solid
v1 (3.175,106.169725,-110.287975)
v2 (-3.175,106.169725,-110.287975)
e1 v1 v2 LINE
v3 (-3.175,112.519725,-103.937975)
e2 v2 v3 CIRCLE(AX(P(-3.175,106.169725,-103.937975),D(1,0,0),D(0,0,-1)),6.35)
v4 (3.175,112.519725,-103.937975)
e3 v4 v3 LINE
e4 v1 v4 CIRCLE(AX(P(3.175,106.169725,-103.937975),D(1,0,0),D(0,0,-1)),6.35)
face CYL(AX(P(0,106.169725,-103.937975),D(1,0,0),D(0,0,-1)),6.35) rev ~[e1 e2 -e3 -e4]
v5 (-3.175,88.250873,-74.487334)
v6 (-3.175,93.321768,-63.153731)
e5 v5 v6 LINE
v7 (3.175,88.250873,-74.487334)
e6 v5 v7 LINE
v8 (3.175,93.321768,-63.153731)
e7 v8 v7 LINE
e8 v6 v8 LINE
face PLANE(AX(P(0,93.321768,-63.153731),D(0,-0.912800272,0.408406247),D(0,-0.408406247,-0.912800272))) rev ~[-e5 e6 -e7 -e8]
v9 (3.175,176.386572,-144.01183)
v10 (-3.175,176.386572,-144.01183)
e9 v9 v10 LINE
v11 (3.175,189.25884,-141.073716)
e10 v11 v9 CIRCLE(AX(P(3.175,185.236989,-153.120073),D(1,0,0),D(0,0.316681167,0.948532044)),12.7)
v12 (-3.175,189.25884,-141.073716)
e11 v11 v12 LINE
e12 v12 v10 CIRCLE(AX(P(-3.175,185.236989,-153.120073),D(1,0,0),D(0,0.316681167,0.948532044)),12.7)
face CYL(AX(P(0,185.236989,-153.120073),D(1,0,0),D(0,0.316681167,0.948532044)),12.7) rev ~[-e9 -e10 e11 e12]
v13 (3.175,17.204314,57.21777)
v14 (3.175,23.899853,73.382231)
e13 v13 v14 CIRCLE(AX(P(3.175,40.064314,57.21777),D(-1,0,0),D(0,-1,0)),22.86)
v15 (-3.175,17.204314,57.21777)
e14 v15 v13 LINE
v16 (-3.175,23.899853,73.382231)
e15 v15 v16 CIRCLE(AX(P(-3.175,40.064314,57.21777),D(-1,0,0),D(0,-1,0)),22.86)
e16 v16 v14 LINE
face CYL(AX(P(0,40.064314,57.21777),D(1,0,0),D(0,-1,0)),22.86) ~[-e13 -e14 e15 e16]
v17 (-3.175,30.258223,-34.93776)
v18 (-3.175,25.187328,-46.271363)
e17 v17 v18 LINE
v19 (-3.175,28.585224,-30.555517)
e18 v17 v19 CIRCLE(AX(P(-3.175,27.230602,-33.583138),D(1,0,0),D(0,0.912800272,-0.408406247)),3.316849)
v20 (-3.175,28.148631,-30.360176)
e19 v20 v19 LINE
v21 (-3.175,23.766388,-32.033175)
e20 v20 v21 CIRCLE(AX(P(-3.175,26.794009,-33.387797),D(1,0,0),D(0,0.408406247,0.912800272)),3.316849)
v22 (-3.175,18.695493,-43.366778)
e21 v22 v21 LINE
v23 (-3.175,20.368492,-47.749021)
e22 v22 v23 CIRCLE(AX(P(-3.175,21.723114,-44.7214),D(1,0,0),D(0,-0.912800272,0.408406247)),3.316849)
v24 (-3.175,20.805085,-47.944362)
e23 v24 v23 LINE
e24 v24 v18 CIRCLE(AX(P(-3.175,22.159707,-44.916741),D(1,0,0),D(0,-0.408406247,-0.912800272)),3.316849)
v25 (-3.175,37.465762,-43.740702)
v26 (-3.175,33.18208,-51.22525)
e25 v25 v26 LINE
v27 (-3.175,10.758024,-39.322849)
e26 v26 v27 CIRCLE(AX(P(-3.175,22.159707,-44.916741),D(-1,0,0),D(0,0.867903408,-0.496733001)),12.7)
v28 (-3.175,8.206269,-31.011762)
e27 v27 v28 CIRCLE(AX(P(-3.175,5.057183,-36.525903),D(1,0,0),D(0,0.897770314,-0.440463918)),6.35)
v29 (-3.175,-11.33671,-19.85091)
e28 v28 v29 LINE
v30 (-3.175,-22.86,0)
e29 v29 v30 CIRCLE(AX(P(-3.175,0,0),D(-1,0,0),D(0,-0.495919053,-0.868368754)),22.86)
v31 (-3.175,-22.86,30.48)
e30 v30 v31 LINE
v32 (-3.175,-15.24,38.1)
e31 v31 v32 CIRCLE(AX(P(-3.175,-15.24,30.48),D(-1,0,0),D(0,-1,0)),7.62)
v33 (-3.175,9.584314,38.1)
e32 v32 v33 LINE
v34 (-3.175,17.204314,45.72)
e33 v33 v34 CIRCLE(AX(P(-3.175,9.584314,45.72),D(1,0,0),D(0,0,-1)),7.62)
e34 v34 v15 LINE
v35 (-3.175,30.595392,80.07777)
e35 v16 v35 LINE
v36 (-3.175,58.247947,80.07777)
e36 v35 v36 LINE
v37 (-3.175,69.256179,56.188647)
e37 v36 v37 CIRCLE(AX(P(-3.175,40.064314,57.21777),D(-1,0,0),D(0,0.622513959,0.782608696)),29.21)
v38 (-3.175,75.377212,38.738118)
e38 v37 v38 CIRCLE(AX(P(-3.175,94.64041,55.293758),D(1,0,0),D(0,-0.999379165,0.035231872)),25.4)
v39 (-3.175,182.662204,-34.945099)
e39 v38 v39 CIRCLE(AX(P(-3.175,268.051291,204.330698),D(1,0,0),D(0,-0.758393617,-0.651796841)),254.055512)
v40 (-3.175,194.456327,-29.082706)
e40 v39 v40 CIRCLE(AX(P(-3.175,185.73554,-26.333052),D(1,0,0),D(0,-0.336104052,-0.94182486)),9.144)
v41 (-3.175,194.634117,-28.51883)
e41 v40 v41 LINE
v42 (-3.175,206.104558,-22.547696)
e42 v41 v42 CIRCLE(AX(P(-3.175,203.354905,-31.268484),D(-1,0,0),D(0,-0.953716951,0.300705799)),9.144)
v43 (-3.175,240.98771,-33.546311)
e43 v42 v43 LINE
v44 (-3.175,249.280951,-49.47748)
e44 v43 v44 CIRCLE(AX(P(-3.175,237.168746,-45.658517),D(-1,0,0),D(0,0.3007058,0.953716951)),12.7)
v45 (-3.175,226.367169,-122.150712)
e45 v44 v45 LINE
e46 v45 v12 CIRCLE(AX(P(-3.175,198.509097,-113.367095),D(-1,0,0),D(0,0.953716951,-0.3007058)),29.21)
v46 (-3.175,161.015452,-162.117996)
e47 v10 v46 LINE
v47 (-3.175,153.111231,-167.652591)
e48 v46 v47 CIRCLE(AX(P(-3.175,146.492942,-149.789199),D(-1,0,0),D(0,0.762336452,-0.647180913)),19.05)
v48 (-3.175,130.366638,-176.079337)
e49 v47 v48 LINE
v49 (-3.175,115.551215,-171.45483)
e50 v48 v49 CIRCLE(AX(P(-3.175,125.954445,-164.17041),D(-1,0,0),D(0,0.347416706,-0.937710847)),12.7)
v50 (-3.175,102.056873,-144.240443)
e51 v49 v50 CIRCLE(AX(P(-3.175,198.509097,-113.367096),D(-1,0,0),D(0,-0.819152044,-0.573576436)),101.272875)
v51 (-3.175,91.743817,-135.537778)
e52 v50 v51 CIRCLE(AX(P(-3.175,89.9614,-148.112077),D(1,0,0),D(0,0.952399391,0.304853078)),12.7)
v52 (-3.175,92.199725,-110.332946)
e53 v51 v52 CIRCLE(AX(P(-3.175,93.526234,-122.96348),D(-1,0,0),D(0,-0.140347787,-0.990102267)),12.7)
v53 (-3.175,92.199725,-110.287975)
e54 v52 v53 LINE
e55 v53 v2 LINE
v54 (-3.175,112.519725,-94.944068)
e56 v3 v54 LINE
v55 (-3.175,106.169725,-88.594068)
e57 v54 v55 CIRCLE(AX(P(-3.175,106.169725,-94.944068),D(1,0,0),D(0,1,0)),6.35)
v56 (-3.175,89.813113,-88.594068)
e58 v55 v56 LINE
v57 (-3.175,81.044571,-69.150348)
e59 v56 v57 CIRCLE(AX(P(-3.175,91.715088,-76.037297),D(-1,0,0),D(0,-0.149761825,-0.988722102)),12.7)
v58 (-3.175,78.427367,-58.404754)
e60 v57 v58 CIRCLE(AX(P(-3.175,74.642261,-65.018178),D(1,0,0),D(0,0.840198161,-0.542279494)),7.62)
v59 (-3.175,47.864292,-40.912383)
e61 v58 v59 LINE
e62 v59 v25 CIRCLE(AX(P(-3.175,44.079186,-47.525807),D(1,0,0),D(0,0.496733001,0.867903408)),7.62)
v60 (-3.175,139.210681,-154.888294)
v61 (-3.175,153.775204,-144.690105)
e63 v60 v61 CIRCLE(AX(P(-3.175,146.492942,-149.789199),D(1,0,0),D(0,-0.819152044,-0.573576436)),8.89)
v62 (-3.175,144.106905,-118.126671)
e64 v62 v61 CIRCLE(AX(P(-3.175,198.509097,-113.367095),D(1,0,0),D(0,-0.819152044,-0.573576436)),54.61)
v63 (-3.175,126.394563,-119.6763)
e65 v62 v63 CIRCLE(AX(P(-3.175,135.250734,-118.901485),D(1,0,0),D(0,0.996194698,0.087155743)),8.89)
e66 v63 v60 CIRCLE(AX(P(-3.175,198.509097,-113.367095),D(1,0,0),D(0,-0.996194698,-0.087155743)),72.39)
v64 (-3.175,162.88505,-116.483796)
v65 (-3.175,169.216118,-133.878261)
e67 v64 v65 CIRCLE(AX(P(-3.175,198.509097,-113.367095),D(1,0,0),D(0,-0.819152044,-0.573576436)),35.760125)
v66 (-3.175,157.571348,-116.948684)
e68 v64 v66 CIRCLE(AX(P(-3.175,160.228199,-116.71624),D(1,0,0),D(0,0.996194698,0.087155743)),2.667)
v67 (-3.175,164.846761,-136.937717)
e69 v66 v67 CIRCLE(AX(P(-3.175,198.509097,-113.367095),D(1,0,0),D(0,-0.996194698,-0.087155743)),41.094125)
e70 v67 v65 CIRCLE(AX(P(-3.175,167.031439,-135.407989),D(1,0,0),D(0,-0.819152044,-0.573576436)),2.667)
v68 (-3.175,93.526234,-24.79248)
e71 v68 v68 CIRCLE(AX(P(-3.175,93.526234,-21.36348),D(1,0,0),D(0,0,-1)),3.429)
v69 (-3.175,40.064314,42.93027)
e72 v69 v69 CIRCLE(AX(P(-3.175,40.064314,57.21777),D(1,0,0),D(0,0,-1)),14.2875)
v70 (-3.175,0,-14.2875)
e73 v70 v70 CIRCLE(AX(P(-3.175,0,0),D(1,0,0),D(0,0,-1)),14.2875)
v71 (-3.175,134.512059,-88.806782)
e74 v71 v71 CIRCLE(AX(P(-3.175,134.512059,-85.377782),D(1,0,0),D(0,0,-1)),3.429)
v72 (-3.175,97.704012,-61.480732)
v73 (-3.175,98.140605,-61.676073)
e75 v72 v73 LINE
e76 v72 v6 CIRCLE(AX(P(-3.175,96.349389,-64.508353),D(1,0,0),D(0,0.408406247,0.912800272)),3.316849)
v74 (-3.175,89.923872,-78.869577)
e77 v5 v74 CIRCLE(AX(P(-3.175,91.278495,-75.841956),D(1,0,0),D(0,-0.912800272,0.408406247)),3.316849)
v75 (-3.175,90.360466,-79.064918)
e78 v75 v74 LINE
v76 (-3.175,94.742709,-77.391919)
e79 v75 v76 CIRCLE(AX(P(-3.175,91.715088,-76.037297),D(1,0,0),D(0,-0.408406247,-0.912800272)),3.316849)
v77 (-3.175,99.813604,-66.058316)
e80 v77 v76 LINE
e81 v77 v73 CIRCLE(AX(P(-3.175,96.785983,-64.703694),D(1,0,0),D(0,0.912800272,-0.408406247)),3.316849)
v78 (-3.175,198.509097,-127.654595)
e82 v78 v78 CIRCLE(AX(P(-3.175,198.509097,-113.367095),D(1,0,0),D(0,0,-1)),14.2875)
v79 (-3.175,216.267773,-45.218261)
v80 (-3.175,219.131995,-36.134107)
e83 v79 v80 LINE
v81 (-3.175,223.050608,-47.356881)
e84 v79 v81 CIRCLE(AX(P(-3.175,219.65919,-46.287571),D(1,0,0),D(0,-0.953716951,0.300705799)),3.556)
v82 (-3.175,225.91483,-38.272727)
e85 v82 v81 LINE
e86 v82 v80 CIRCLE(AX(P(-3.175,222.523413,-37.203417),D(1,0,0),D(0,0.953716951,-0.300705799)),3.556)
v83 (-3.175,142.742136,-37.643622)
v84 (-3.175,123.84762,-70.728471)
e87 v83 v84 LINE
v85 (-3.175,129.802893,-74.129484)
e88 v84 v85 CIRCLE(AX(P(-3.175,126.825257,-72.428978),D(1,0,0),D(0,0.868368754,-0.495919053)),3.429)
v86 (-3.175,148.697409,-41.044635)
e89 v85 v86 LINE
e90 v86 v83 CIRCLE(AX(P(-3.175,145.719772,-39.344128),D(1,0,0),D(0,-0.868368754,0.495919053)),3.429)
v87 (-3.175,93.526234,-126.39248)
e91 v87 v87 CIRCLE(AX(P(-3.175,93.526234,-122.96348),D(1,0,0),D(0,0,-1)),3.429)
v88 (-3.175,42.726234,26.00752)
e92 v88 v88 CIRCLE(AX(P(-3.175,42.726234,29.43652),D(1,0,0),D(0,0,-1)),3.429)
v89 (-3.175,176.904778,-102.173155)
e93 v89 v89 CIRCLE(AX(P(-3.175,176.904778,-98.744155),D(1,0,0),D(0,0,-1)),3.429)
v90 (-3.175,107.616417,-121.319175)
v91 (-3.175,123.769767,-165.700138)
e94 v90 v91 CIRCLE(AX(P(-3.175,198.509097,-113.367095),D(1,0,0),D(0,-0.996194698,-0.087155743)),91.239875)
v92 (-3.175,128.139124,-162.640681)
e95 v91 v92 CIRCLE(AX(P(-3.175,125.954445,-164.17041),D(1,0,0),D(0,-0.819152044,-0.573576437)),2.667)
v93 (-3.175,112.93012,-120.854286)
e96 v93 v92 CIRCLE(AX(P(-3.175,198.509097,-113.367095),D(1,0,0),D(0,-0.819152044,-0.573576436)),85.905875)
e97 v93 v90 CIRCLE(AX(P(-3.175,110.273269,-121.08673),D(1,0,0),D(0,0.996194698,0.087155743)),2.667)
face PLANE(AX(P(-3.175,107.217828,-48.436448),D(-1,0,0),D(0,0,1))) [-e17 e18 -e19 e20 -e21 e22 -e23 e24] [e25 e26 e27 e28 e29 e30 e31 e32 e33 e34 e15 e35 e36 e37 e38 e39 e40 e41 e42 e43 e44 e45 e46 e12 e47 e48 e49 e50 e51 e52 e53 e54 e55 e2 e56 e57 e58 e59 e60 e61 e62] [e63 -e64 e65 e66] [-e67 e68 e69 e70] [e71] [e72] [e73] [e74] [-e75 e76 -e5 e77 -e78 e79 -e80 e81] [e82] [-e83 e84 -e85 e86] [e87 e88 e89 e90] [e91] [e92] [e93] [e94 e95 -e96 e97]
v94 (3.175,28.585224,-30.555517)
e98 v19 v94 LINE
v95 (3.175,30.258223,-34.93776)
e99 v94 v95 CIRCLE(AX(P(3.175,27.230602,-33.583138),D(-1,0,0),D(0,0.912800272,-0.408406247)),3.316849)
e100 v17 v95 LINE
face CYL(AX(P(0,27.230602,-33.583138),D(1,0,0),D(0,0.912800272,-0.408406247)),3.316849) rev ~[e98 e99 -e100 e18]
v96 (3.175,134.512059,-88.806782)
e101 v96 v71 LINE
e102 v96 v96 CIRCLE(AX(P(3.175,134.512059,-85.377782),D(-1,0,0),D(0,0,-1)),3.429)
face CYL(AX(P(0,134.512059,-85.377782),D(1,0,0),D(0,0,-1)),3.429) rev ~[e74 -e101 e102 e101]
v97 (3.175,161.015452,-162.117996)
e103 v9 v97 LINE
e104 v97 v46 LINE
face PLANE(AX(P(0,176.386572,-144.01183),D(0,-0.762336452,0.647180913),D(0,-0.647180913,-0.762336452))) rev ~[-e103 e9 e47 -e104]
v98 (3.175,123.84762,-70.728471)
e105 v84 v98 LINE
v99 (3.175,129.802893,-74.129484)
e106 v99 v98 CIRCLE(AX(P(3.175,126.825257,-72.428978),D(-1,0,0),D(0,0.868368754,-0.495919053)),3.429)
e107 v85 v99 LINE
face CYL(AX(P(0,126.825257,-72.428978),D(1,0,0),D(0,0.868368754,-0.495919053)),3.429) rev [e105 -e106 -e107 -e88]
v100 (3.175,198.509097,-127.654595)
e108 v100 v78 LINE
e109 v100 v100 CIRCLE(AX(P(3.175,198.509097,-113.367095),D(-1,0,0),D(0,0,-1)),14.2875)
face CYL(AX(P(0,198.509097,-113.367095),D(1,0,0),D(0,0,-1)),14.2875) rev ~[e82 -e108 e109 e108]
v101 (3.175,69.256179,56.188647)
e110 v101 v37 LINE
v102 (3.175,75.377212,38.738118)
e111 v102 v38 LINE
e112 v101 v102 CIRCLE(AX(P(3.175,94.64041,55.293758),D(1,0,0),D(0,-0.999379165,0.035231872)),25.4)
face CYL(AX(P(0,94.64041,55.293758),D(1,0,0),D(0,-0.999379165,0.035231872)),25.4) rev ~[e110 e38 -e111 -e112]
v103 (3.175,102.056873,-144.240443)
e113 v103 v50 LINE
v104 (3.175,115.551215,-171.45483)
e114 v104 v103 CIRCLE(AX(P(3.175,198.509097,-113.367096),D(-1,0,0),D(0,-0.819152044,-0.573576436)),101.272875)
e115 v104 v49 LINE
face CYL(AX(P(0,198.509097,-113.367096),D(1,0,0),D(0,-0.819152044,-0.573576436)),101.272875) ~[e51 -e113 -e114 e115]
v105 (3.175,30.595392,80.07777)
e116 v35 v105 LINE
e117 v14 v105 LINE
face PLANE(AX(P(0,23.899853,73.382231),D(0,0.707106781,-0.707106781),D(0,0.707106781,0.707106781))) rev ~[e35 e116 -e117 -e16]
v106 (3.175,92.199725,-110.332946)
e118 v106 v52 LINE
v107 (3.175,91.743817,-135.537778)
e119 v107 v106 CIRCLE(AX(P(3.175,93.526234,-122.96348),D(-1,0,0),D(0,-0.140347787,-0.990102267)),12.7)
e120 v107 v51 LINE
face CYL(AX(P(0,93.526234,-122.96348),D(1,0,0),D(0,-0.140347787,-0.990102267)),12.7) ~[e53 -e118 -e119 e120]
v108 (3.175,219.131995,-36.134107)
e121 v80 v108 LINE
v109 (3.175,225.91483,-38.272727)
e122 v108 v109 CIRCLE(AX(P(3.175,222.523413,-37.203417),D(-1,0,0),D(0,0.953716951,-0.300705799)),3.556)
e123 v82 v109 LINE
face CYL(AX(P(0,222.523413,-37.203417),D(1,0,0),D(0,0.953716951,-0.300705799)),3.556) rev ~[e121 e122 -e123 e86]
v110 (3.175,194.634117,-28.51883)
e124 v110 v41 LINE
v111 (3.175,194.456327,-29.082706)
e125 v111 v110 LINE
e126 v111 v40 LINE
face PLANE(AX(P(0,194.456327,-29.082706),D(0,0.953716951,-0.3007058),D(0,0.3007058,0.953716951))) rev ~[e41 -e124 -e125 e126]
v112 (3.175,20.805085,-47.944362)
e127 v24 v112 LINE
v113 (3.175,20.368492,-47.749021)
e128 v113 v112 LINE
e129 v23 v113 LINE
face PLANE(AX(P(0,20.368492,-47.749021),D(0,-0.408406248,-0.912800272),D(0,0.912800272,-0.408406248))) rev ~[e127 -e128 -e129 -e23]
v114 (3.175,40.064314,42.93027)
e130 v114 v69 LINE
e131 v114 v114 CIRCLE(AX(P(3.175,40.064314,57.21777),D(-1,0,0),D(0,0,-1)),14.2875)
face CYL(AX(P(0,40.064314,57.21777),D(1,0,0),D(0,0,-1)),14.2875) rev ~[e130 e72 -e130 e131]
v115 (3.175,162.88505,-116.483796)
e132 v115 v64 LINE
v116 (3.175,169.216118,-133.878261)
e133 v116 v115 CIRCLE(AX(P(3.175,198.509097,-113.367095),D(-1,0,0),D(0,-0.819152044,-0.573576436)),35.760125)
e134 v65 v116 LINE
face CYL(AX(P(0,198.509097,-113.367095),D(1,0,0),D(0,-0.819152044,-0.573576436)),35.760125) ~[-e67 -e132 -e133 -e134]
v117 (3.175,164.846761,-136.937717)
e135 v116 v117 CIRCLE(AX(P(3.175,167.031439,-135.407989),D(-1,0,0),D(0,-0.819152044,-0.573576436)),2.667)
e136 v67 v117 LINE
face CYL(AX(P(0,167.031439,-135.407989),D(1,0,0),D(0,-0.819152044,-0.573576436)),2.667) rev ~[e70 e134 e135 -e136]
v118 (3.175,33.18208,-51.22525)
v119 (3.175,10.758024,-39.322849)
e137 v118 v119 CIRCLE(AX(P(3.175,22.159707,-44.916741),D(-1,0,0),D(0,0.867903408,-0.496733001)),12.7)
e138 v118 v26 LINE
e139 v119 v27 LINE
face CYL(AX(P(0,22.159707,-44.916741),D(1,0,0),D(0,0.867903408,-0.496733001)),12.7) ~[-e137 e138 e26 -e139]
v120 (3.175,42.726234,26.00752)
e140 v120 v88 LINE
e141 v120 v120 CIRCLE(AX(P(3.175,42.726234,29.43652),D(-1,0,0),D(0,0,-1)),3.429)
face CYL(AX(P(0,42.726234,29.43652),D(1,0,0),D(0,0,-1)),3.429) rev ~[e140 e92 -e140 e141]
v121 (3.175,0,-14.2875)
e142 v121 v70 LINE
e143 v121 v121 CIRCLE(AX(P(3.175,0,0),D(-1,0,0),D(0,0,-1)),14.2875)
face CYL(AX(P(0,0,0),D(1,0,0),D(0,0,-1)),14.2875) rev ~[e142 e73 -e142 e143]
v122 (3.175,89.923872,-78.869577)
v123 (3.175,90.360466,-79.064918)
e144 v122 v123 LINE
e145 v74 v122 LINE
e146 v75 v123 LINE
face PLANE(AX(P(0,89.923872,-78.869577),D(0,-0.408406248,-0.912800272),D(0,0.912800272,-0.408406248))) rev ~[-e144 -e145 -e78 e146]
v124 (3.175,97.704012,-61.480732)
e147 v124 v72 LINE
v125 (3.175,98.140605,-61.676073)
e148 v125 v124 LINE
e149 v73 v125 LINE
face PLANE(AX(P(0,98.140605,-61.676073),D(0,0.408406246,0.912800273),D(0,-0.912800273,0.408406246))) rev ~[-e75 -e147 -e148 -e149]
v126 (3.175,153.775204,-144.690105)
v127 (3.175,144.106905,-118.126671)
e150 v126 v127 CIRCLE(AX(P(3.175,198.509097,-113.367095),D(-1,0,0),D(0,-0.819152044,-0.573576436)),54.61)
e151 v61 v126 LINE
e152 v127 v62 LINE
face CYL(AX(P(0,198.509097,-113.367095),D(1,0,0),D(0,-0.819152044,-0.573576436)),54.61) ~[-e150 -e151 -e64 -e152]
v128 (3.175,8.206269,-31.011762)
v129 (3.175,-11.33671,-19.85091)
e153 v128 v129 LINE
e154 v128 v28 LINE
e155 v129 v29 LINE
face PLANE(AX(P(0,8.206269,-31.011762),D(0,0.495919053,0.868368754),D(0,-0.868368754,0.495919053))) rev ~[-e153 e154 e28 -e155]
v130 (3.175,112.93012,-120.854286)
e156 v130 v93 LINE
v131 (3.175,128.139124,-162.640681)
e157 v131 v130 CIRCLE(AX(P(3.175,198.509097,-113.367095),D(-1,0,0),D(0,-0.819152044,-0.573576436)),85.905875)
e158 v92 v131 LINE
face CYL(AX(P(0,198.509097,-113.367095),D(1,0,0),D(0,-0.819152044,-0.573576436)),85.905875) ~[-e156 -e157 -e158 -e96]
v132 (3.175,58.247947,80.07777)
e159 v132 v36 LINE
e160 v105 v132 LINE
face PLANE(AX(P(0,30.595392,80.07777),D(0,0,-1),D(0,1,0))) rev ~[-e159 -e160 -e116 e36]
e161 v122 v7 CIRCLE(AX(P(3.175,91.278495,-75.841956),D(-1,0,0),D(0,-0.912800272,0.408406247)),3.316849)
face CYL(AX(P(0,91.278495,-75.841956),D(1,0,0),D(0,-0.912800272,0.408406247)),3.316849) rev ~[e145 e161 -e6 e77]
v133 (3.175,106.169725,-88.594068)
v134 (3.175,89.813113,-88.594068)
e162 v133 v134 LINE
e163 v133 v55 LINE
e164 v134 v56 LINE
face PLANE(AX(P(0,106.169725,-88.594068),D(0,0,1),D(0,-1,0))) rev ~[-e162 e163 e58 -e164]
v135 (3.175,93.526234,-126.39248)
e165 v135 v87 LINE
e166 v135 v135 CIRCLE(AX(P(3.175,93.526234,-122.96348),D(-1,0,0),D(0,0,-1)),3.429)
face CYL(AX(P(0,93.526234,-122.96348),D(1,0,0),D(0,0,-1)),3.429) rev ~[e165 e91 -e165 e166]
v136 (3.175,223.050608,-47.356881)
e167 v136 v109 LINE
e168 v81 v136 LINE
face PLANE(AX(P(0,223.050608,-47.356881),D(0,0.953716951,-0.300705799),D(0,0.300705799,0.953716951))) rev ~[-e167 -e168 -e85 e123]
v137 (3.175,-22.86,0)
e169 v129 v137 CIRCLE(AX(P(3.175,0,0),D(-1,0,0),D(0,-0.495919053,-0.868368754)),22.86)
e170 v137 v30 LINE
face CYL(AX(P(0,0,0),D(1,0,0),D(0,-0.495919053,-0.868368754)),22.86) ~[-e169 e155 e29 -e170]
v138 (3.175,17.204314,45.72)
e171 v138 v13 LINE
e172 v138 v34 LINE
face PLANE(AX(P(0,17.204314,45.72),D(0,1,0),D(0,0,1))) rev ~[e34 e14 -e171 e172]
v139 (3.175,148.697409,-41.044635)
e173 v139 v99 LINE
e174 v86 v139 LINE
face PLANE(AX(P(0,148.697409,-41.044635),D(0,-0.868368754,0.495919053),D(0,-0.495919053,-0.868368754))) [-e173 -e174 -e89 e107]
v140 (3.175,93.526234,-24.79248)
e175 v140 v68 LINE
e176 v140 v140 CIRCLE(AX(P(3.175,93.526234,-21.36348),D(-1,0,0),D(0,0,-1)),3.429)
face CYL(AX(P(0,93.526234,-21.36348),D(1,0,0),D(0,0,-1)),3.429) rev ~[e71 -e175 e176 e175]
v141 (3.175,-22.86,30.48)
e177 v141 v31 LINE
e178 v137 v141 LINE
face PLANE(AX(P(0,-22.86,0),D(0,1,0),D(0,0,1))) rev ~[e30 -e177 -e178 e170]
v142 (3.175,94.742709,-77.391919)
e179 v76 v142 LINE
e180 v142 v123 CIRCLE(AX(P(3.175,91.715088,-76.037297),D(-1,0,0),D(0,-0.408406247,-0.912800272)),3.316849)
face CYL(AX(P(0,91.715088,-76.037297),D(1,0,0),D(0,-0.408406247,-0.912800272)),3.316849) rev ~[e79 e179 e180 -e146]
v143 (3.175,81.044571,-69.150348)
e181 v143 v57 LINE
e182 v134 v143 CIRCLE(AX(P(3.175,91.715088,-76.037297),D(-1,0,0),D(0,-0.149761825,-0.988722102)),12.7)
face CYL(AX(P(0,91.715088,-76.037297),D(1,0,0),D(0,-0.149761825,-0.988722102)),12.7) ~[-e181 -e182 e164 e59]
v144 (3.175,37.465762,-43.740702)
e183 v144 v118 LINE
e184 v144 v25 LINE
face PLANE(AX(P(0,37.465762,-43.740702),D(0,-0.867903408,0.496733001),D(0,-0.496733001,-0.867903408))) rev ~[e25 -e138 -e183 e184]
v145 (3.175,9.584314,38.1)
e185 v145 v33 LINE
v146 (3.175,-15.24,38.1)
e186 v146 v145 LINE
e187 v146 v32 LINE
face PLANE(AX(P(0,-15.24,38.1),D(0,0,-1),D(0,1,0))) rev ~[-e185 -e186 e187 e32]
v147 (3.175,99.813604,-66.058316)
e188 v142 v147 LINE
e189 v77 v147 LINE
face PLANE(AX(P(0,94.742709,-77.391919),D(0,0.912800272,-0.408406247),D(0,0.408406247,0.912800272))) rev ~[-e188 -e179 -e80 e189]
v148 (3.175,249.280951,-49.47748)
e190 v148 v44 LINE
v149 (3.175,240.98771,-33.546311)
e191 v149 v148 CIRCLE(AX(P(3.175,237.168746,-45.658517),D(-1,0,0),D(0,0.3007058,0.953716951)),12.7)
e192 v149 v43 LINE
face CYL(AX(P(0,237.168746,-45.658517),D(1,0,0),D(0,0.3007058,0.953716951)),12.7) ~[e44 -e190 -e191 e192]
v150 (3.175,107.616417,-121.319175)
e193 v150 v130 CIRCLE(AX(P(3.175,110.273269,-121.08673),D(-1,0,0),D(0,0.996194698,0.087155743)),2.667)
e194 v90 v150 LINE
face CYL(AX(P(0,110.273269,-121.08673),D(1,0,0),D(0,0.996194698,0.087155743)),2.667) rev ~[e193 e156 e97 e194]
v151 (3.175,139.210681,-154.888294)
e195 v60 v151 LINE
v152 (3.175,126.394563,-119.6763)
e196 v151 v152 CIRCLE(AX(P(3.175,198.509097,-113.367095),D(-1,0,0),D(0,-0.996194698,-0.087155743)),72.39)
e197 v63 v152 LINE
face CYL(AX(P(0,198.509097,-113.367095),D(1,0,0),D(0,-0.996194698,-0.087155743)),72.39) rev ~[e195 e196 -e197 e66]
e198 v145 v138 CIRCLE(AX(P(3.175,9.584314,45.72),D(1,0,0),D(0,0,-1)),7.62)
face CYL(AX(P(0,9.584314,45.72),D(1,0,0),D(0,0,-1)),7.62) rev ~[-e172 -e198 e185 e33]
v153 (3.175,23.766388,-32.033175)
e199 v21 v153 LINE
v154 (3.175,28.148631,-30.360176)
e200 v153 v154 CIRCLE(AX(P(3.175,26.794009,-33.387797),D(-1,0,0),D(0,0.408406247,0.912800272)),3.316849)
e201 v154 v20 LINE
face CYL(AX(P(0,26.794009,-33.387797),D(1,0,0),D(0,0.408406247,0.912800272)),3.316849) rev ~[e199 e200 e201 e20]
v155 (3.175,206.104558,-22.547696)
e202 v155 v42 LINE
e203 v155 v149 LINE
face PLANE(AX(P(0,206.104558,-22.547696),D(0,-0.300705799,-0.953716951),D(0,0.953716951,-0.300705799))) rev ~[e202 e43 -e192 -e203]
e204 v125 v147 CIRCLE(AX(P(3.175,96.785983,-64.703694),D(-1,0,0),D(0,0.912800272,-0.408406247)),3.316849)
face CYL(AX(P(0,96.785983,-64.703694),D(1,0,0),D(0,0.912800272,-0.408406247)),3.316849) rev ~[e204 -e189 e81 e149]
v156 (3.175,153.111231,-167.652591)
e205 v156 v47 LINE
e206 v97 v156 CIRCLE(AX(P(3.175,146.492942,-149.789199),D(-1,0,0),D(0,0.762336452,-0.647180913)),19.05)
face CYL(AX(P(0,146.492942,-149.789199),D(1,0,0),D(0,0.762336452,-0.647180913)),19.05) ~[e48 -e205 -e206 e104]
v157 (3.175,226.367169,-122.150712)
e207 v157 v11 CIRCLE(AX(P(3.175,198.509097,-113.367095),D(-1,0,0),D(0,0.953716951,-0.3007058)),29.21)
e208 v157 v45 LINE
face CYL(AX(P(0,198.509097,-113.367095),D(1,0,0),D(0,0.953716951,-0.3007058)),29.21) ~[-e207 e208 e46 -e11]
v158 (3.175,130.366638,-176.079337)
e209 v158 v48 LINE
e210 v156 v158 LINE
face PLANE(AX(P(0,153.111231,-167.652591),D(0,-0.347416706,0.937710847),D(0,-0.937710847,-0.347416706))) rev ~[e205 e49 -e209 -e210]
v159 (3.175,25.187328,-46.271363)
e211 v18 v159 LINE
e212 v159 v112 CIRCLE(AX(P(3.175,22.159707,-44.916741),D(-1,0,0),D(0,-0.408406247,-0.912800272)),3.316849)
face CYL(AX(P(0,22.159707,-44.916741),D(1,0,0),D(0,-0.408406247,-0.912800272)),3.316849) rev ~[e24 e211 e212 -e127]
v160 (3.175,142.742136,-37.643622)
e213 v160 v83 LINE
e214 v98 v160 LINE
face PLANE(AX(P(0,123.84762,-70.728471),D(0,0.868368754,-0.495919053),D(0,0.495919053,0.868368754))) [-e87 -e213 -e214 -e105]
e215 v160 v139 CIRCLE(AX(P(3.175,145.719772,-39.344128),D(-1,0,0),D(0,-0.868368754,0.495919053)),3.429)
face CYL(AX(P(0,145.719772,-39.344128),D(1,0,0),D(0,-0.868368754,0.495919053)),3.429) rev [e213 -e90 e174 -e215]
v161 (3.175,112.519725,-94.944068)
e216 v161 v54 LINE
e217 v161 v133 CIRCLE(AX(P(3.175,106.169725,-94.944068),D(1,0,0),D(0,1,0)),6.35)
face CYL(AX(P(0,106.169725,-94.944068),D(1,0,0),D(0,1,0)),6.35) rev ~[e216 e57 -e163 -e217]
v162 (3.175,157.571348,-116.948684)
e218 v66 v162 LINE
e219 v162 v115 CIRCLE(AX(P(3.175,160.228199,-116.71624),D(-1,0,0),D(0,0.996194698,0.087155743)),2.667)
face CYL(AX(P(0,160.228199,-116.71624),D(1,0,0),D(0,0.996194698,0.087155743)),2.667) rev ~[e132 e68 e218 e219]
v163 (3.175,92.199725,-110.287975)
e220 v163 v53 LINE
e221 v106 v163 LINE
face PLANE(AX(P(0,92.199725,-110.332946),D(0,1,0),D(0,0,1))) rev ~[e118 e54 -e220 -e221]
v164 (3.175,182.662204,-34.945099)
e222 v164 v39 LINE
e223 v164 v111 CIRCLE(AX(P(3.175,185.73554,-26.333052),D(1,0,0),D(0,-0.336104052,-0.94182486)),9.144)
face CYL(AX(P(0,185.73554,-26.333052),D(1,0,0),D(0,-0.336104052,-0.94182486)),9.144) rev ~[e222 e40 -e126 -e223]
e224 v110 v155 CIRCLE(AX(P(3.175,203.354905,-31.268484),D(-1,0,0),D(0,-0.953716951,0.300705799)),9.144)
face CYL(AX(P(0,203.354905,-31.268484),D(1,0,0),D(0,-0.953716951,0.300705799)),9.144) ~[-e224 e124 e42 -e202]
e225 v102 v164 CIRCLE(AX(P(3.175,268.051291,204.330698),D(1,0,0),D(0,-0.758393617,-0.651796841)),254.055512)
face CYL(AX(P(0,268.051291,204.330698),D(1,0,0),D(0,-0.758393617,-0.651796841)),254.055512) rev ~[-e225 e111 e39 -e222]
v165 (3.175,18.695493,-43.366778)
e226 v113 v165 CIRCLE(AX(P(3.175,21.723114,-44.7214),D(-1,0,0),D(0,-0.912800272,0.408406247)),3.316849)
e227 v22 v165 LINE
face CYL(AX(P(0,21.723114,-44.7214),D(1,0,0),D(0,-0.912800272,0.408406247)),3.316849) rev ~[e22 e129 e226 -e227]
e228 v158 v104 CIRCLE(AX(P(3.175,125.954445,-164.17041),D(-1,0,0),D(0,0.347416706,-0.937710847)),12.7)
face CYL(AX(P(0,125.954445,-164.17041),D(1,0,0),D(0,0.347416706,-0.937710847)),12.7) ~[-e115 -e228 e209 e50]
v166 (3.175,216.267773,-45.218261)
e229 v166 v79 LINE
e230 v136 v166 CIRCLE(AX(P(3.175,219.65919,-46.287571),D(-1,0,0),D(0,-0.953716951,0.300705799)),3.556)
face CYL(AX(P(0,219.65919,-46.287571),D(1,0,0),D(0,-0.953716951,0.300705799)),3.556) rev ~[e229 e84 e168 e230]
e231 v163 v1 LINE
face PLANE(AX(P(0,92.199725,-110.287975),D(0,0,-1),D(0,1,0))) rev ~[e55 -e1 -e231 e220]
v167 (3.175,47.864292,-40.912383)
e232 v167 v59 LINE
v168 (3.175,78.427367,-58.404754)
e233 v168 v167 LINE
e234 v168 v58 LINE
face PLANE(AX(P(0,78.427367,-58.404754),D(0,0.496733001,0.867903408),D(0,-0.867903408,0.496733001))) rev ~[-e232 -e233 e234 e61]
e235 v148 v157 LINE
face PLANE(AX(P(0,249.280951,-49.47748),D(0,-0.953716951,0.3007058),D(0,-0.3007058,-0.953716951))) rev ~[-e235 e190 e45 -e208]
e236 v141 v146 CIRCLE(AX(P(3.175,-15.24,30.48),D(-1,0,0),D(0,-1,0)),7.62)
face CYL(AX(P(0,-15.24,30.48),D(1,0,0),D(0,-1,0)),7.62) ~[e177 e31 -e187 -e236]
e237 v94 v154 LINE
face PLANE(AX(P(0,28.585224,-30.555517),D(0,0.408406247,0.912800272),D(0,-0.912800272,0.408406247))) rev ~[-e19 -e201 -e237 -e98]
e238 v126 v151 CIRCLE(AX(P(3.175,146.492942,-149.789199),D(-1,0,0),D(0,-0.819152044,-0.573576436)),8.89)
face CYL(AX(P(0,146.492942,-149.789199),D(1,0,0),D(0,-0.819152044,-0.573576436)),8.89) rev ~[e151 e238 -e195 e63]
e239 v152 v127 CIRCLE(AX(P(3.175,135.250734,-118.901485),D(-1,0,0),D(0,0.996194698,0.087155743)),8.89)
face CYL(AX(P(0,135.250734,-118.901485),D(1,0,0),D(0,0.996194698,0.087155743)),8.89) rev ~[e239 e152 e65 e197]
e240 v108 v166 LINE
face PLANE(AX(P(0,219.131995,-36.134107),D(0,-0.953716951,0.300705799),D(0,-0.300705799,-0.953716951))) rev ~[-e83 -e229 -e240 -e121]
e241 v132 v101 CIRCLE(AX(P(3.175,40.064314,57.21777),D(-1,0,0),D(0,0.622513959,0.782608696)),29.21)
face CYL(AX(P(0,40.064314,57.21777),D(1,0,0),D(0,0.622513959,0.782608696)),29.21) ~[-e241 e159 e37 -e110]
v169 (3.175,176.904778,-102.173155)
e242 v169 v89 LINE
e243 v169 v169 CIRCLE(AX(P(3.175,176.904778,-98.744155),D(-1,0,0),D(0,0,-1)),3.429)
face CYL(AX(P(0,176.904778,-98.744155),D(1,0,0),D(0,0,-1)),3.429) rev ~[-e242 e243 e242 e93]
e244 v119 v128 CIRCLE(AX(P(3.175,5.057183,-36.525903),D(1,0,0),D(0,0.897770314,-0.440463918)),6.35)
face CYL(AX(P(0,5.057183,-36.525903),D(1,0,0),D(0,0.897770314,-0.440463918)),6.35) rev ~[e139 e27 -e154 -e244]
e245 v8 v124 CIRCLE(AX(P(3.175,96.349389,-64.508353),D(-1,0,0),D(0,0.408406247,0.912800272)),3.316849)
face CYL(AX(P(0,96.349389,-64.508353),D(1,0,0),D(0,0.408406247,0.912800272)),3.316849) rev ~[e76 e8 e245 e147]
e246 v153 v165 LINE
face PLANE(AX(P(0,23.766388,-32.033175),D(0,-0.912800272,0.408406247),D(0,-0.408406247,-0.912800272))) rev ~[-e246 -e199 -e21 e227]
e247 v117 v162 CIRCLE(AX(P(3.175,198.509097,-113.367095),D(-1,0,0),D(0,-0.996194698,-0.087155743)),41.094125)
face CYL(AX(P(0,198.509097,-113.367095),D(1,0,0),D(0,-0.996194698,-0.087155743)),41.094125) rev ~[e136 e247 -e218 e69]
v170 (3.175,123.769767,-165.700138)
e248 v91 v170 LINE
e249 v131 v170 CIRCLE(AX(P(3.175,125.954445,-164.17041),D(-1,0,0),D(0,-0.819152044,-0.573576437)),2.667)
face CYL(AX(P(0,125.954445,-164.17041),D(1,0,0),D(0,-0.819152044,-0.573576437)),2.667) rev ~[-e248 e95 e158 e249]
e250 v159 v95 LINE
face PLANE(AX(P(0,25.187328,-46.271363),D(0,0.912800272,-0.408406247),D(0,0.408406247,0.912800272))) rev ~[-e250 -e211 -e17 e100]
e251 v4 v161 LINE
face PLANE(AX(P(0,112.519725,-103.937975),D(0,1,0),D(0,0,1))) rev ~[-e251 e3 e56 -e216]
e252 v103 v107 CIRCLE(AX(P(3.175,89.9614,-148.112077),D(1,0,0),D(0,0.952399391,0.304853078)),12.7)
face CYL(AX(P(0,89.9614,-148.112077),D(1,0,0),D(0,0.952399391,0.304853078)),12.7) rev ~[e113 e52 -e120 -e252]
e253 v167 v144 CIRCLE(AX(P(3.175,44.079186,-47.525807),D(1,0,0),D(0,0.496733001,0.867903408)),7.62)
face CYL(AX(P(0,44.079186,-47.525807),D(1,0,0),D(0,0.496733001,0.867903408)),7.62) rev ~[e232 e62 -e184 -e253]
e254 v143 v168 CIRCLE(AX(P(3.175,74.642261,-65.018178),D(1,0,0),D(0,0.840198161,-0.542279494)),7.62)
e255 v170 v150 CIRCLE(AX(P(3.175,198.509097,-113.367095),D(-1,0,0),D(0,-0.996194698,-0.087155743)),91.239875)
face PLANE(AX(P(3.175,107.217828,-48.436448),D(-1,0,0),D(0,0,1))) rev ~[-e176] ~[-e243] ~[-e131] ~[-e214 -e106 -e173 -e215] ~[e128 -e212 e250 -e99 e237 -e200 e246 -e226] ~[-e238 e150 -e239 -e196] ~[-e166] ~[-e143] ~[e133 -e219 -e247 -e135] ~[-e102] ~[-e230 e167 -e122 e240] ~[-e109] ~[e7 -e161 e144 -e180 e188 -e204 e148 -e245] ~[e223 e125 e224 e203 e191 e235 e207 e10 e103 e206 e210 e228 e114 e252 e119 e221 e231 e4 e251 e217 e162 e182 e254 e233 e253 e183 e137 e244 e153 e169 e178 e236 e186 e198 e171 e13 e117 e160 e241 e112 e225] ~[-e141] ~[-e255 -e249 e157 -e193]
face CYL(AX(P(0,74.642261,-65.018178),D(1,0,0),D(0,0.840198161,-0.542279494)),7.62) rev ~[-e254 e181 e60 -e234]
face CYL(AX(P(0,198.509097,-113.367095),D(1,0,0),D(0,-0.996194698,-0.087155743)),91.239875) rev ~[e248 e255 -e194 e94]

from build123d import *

# Parameters (mm, degrees)
BOSS_EXTRUDE1_DEPTH      = 3.175
BOSS_EXTRUDE1_DEPTH_BACK = 3.175
SKETCH1_R                = 14.2875
SKETCH1_R_2              = 3.429
CUT_EXTRUDE1_DEPTH       = 4.175
CUT_EXTRUDE1_DEPTH_BACK  = 4.175


with BuildPart() as part:
    # Sketch2 → Boss-Extrude1 (new body, two sides)
    with BuildSketch(Plane(origin=(0, 0, 0), x_dir=(0, 0, -1), z_dir=(1, 0, 0))) as boss_extrude1_sk:
        with BuildLine():
            Line((-80.077770294, 30.595392043), (-80.077770294, 58.247946829))
            ThreePointArc((-80.077770294, 58.247946829), (-69.442421386, 66.593204099), (-56.188647306, 69.256179485))
            ThreePointArc((-56.188647306, 69.256179485), (-46.886526626, 70.672129884), (-38.738117997, 75.377212399))
            ThreePointArc((-38.738117997, 75.377212399), (5.090213079, 124.221234623), (34.945098816, 182.662204067))
            ThreePointArc((34.945098816, 182.662204067), (34.521299637, 189.805593755), (29.082706129, 194.456327313))
            Line((29.082706129, 194.456327313), (28.518829965, 194.634116785))
            ThreePointArc((28.518829965, 194.634116785), (23.157656737, 199.132675263), (22.547695998, 206.104558413))
            Line((22.547695998, 206.104558413), (33.54631132, 240.987709604))
            ThreePointArc((33.54631132, 240.987709604), (39.794309207, 248.433783532), (49.477480248, 249.280951225))
            Line((49.477480248, 249.280951225), (122.150711895, 226.367169303))
            ThreePointArc((122.150711895, 226.367169303), (139.389035794, 211.778713703), (141.073716499, 189.25884029))
            ThreePointArc((141.073716499, 189.25884029), (140.738510253, 182.410880382), (144.011829817, 176.386571529))
            Line((144.011829817, 176.386571529), (162.117995595, 161.015451766))
            ThreePointArc((162.117995595, 161.015451766), (165.394045644, 157.419573471), (167.652590835, 153.111230605))
            Line((167.652590835, 153.111230605), (176.079337299, 130.366637638))
            ThreePointArc((176.079337299, 130.366637638), (176.293542275, 122.170313769), (171.454830285, 115.551214511))
            ThreePointArc((171.454830285, 115.551214511), (158.356459409, 107.777887749), (144.240443192, 102.05687257))
            ThreePointArc((144.240443192, 102.05687257), (138.406050553, 98.151824286), (135.537778495, 91.743817189))
            ThreePointArc((135.537778495, 91.743817189), (122.733798507, 80.828311157), (110.332946369, 92.199724514))
            Line((110.332946369, 92.199724514), (110.287974786, 92.199724514))
            Line((110.287974786, 92.199724514), (110.287974786, 106.169724514))
            ThreePointArc((110.287974786, 106.169724514), (108.428102847, 110.659852575), (103.937974786, 112.519724514))
            Line((103.937974786, 112.519724514), (94.944067794, 112.519724514))
            ThreePointArc((94.944067794, 112.519724514), (90.453939734, 110.659852575), (88.594067794, 106.169724514))
            Line((88.594067794, 106.169724514), (88.594067794, 92.199724514))
            Line((88.594067794, 92.199724514), (88.594067794, 89.813112686))
            ThreePointArc((88.594067794, 89.813112686), (81.258269009, 80.137892516), (69.150347517, 81.044571224))
            ThreePointArc((69.150347517, 81.044571224), (63.214959672, 82.045828247), (58.4047538, 78.427366702))
            Line((58.4047538, 78.427366702), (40.912383352, 47.86429176))
            ThreePointArc((40.912383352, 47.86429176), (40.172936643, 42.0792631), (43.740701856, 37.465762324))
            Line((43.740701856, 37.465762324), (51.225250159, 33.182080404))
            ThreePointArc((51.225250159, 33.182080404), (56.134461156, 16.205485457), (39.322849283, 10.758024134))
            ThreePointArc((39.322849283, 10.758024134), (34.662129764, 11.127507824), (31.011761812, 8.206268627))
            Line((31.011761812, 8.206268627), (19.850909717, -11.336709549))
            ThreePointArc((19.850909717, -11.336709549), (11.476550434, -19.770391755), (0, -22.86))
            Line((0, -22.86), (-30.48, -22.86))
            ThreePointArc((-30.48, -22.86), (-35.868153673, -20.628153673), (-38.1, -15.24))
            Line((-38.1, -15.24), (-38.1, 9.584314079))
            ThreePointArc((-38.1, 9.584314079), (-40.331846327, 14.972467752), (-45.72, 17.204314079))
            Line((-45.72, 17.204314079), (-57.217770294, 17.204314079))
            ThreePointArc((-57.217770294, 17.204314079), (-65.965913557, 18.944427966), (-73.382231312, 23.899853061))
            Line((-73.382231312, 23.899853061), (-80.077770294, 30.595392043))
        make_face()
    extrude(amount=BOSS_EXTRUDE1_DEPTH)
    extrude(boss_extrude1_sk.sketch, amount=-BOSS_EXTRUDE1_DEPTH_BACK)

    # Sketch1 → Cut-Extrude1 (cut, two sides)
    with BuildSketch(Plane(origin=(0, 0, 0), x_dir=(0, 0, -1), z_dir=(1, 0, 0))) as cut_extrude1_sk:
        Circle(SKETCH1_R)
        with Locations((-57.217770294, 40.064314079)):
            Circle(SKETCH1_R)
        with Locations((113.367095492, 198.509097171)):
            Circle(SKETCH1_R)
        with Locations((-29.436520294, 42.726234079)):
            Circle(SKETCH1_R_2)
        with Locations((21.363479706, 93.526234079)):
            Circle(SKETCH1_R_2)
        with Locations((122.963479706, 93.526234079)):
            Circle(SKETCH1_R_2)
        with Locations((98.744155059, 176.904777846)):
            Circle(SKETCH1_R_2)
        with Locations((85.377782271, 134.512059385)):
            Circle(SKETCH1_R_2)
        with BuildLine():
            Line((30.555516965, 28.585224085), (30.360175827, 28.148630754))
            ThreePointArc((30.360175827, 28.148630754), (30.289083082, 25.61101973), (32.033174884, 23.766387604))
            Line((32.033174884, 23.766387604), (43.366777865, 18.695492686))
            ThreePointArc((43.366777865, 18.695492686), (45.904388889, 18.624399941), (47.749021015, 20.368491743))
            Line((47.749021015, 20.368491743), (47.944362153, 20.805085073))
            ThreePointArc((47.944362153, 20.805085073), (48.015454897, 23.342696098), (46.271363096, 25.187328223))
            Line((46.271363096, 25.187328223), (34.937760115, 30.258223141))
            ThreePointArc((34.937760115, 30.258223141), (32.40014909, 30.329315886), (30.555516965, 28.585224085))
        make_face()
        with BuildLine():
            Line((36.134107155, 219.131995286), (45.218261111, 216.267772546))
            ThreePointArc((45.218261111, 216.267772546), (49.67898841, 218.5898802), (47.356880757, 223.0506075))
            Line((47.356880757, 223.0506075), (38.272726801, 225.91483024))
            ThreePointArc((38.272726801, 225.91483024), (33.811999501, 223.592722586), (36.134107155, 219.131995286))
        make_face()
        with BuildLine():
            Line((61.67607301, 98.140604836), (61.480731873, 97.704011505))
            ThreePointArc((61.480731873, 97.704011505), (61.409639128, 95.166400481), (63.153730929, 93.321768355))
            Line((63.153730929, 93.321768355), (74.487333911, 88.250873437))
            ThreePointArc((74.487333911, 88.250873437), (77.024944935, 88.179780692), (78.86957706, 89.923872494))
            Line((78.86957706, 89.923872494), (79.064918198, 90.360465824))
            ThreePointArc((79.064918198, 90.360465824), (79.136010943, 92.898076849), (77.391919142, 94.742708974))
            Line((77.391919142, 94.742708974), (66.05831616, 99.813603892))
            ThreePointArc((66.05831616, 99.813603892), (63.520705136, 99.884696637), (61.67607301, 98.140604836))
        make_face()
        with BuildLine():
            Line((70.728471243, 123.847620068), (37.643621714, 142.742135984))
            ThreePointArc((37.643621714, 142.742135984), (36.366491689, 147.420278874), (41.044634579, 148.697408899))
            Line((41.044634579, 148.697408899), (74.129484108, 129.802892984))
            ThreePointArc((74.129484108, 129.802892984), (75.406614133, 125.124750094), (70.728471243, 123.847620068))
        make_face()
        with BuildLine():
            ThreePointArc((118.126670603, 144.106904708), (110.04531429, 134.475919289), (119.676299709, 126.394562976))
            ThreePointArc((119.676299709, 126.394562976), (138.125933667, 130.484748353), (154.888293719, 139.210680685))
            ThreePointArc((154.888293719, 139.210680685), (157.071460874, 151.592036878), (144.690104681, 153.775204033))
            ThreePointArc((144.690104681, 153.775204033), (132.044815519, 147.19248315), (118.126670603, 144.106904708))
        make_face()
        with BuildLine():
            ThreePointArc((116.483795739, 162.885050332), (114.059388845, 159.995754706), (116.948684471, 157.571347812))
            ThreePointArc((116.948684471, 157.571347812), (127.422113984, 159.893251235), (136.937717213, 164.846760742))
            ThreePointArc((136.937717213, 164.846760742), (137.59266736, 168.5611676), (133.878260502, 169.216117746))
            ThreePointArc((133.878260502, 169.216117746), (125.597778539, 164.905571674), (116.483795739, 162.885050332))
        make_face()
        with BuildLine():
            ThreePointArc((120.854285842, 112.930119872), (118.429878948, 110.040824247), (121.319174574, 107.616417353))
            ThreePointArc((121.319174574, 107.616417353), (144.572970647, 112.771659829), (165.700137899, 123.769766971))
            ThreePointArc((165.700137899, 123.769766971), (166.355088045, 127.484173829), (162.640681187, 128.139123976))
            ThreePointArc((162.640681187, 128.139123976), (142.748635202, 117.783980268), (120.854285842, 112.930119872))
        make_face()
    extrude(amount=CUT_EXTRUDE1_DEPTH, mode=Mode.SUBTRACT)
    extrude(cut_extrude1_sk.sketch, amount=-CUT_EXTRUDE1_DEPTH_BACK, mode=Mode.SUBTRACT)


solid = part.part
